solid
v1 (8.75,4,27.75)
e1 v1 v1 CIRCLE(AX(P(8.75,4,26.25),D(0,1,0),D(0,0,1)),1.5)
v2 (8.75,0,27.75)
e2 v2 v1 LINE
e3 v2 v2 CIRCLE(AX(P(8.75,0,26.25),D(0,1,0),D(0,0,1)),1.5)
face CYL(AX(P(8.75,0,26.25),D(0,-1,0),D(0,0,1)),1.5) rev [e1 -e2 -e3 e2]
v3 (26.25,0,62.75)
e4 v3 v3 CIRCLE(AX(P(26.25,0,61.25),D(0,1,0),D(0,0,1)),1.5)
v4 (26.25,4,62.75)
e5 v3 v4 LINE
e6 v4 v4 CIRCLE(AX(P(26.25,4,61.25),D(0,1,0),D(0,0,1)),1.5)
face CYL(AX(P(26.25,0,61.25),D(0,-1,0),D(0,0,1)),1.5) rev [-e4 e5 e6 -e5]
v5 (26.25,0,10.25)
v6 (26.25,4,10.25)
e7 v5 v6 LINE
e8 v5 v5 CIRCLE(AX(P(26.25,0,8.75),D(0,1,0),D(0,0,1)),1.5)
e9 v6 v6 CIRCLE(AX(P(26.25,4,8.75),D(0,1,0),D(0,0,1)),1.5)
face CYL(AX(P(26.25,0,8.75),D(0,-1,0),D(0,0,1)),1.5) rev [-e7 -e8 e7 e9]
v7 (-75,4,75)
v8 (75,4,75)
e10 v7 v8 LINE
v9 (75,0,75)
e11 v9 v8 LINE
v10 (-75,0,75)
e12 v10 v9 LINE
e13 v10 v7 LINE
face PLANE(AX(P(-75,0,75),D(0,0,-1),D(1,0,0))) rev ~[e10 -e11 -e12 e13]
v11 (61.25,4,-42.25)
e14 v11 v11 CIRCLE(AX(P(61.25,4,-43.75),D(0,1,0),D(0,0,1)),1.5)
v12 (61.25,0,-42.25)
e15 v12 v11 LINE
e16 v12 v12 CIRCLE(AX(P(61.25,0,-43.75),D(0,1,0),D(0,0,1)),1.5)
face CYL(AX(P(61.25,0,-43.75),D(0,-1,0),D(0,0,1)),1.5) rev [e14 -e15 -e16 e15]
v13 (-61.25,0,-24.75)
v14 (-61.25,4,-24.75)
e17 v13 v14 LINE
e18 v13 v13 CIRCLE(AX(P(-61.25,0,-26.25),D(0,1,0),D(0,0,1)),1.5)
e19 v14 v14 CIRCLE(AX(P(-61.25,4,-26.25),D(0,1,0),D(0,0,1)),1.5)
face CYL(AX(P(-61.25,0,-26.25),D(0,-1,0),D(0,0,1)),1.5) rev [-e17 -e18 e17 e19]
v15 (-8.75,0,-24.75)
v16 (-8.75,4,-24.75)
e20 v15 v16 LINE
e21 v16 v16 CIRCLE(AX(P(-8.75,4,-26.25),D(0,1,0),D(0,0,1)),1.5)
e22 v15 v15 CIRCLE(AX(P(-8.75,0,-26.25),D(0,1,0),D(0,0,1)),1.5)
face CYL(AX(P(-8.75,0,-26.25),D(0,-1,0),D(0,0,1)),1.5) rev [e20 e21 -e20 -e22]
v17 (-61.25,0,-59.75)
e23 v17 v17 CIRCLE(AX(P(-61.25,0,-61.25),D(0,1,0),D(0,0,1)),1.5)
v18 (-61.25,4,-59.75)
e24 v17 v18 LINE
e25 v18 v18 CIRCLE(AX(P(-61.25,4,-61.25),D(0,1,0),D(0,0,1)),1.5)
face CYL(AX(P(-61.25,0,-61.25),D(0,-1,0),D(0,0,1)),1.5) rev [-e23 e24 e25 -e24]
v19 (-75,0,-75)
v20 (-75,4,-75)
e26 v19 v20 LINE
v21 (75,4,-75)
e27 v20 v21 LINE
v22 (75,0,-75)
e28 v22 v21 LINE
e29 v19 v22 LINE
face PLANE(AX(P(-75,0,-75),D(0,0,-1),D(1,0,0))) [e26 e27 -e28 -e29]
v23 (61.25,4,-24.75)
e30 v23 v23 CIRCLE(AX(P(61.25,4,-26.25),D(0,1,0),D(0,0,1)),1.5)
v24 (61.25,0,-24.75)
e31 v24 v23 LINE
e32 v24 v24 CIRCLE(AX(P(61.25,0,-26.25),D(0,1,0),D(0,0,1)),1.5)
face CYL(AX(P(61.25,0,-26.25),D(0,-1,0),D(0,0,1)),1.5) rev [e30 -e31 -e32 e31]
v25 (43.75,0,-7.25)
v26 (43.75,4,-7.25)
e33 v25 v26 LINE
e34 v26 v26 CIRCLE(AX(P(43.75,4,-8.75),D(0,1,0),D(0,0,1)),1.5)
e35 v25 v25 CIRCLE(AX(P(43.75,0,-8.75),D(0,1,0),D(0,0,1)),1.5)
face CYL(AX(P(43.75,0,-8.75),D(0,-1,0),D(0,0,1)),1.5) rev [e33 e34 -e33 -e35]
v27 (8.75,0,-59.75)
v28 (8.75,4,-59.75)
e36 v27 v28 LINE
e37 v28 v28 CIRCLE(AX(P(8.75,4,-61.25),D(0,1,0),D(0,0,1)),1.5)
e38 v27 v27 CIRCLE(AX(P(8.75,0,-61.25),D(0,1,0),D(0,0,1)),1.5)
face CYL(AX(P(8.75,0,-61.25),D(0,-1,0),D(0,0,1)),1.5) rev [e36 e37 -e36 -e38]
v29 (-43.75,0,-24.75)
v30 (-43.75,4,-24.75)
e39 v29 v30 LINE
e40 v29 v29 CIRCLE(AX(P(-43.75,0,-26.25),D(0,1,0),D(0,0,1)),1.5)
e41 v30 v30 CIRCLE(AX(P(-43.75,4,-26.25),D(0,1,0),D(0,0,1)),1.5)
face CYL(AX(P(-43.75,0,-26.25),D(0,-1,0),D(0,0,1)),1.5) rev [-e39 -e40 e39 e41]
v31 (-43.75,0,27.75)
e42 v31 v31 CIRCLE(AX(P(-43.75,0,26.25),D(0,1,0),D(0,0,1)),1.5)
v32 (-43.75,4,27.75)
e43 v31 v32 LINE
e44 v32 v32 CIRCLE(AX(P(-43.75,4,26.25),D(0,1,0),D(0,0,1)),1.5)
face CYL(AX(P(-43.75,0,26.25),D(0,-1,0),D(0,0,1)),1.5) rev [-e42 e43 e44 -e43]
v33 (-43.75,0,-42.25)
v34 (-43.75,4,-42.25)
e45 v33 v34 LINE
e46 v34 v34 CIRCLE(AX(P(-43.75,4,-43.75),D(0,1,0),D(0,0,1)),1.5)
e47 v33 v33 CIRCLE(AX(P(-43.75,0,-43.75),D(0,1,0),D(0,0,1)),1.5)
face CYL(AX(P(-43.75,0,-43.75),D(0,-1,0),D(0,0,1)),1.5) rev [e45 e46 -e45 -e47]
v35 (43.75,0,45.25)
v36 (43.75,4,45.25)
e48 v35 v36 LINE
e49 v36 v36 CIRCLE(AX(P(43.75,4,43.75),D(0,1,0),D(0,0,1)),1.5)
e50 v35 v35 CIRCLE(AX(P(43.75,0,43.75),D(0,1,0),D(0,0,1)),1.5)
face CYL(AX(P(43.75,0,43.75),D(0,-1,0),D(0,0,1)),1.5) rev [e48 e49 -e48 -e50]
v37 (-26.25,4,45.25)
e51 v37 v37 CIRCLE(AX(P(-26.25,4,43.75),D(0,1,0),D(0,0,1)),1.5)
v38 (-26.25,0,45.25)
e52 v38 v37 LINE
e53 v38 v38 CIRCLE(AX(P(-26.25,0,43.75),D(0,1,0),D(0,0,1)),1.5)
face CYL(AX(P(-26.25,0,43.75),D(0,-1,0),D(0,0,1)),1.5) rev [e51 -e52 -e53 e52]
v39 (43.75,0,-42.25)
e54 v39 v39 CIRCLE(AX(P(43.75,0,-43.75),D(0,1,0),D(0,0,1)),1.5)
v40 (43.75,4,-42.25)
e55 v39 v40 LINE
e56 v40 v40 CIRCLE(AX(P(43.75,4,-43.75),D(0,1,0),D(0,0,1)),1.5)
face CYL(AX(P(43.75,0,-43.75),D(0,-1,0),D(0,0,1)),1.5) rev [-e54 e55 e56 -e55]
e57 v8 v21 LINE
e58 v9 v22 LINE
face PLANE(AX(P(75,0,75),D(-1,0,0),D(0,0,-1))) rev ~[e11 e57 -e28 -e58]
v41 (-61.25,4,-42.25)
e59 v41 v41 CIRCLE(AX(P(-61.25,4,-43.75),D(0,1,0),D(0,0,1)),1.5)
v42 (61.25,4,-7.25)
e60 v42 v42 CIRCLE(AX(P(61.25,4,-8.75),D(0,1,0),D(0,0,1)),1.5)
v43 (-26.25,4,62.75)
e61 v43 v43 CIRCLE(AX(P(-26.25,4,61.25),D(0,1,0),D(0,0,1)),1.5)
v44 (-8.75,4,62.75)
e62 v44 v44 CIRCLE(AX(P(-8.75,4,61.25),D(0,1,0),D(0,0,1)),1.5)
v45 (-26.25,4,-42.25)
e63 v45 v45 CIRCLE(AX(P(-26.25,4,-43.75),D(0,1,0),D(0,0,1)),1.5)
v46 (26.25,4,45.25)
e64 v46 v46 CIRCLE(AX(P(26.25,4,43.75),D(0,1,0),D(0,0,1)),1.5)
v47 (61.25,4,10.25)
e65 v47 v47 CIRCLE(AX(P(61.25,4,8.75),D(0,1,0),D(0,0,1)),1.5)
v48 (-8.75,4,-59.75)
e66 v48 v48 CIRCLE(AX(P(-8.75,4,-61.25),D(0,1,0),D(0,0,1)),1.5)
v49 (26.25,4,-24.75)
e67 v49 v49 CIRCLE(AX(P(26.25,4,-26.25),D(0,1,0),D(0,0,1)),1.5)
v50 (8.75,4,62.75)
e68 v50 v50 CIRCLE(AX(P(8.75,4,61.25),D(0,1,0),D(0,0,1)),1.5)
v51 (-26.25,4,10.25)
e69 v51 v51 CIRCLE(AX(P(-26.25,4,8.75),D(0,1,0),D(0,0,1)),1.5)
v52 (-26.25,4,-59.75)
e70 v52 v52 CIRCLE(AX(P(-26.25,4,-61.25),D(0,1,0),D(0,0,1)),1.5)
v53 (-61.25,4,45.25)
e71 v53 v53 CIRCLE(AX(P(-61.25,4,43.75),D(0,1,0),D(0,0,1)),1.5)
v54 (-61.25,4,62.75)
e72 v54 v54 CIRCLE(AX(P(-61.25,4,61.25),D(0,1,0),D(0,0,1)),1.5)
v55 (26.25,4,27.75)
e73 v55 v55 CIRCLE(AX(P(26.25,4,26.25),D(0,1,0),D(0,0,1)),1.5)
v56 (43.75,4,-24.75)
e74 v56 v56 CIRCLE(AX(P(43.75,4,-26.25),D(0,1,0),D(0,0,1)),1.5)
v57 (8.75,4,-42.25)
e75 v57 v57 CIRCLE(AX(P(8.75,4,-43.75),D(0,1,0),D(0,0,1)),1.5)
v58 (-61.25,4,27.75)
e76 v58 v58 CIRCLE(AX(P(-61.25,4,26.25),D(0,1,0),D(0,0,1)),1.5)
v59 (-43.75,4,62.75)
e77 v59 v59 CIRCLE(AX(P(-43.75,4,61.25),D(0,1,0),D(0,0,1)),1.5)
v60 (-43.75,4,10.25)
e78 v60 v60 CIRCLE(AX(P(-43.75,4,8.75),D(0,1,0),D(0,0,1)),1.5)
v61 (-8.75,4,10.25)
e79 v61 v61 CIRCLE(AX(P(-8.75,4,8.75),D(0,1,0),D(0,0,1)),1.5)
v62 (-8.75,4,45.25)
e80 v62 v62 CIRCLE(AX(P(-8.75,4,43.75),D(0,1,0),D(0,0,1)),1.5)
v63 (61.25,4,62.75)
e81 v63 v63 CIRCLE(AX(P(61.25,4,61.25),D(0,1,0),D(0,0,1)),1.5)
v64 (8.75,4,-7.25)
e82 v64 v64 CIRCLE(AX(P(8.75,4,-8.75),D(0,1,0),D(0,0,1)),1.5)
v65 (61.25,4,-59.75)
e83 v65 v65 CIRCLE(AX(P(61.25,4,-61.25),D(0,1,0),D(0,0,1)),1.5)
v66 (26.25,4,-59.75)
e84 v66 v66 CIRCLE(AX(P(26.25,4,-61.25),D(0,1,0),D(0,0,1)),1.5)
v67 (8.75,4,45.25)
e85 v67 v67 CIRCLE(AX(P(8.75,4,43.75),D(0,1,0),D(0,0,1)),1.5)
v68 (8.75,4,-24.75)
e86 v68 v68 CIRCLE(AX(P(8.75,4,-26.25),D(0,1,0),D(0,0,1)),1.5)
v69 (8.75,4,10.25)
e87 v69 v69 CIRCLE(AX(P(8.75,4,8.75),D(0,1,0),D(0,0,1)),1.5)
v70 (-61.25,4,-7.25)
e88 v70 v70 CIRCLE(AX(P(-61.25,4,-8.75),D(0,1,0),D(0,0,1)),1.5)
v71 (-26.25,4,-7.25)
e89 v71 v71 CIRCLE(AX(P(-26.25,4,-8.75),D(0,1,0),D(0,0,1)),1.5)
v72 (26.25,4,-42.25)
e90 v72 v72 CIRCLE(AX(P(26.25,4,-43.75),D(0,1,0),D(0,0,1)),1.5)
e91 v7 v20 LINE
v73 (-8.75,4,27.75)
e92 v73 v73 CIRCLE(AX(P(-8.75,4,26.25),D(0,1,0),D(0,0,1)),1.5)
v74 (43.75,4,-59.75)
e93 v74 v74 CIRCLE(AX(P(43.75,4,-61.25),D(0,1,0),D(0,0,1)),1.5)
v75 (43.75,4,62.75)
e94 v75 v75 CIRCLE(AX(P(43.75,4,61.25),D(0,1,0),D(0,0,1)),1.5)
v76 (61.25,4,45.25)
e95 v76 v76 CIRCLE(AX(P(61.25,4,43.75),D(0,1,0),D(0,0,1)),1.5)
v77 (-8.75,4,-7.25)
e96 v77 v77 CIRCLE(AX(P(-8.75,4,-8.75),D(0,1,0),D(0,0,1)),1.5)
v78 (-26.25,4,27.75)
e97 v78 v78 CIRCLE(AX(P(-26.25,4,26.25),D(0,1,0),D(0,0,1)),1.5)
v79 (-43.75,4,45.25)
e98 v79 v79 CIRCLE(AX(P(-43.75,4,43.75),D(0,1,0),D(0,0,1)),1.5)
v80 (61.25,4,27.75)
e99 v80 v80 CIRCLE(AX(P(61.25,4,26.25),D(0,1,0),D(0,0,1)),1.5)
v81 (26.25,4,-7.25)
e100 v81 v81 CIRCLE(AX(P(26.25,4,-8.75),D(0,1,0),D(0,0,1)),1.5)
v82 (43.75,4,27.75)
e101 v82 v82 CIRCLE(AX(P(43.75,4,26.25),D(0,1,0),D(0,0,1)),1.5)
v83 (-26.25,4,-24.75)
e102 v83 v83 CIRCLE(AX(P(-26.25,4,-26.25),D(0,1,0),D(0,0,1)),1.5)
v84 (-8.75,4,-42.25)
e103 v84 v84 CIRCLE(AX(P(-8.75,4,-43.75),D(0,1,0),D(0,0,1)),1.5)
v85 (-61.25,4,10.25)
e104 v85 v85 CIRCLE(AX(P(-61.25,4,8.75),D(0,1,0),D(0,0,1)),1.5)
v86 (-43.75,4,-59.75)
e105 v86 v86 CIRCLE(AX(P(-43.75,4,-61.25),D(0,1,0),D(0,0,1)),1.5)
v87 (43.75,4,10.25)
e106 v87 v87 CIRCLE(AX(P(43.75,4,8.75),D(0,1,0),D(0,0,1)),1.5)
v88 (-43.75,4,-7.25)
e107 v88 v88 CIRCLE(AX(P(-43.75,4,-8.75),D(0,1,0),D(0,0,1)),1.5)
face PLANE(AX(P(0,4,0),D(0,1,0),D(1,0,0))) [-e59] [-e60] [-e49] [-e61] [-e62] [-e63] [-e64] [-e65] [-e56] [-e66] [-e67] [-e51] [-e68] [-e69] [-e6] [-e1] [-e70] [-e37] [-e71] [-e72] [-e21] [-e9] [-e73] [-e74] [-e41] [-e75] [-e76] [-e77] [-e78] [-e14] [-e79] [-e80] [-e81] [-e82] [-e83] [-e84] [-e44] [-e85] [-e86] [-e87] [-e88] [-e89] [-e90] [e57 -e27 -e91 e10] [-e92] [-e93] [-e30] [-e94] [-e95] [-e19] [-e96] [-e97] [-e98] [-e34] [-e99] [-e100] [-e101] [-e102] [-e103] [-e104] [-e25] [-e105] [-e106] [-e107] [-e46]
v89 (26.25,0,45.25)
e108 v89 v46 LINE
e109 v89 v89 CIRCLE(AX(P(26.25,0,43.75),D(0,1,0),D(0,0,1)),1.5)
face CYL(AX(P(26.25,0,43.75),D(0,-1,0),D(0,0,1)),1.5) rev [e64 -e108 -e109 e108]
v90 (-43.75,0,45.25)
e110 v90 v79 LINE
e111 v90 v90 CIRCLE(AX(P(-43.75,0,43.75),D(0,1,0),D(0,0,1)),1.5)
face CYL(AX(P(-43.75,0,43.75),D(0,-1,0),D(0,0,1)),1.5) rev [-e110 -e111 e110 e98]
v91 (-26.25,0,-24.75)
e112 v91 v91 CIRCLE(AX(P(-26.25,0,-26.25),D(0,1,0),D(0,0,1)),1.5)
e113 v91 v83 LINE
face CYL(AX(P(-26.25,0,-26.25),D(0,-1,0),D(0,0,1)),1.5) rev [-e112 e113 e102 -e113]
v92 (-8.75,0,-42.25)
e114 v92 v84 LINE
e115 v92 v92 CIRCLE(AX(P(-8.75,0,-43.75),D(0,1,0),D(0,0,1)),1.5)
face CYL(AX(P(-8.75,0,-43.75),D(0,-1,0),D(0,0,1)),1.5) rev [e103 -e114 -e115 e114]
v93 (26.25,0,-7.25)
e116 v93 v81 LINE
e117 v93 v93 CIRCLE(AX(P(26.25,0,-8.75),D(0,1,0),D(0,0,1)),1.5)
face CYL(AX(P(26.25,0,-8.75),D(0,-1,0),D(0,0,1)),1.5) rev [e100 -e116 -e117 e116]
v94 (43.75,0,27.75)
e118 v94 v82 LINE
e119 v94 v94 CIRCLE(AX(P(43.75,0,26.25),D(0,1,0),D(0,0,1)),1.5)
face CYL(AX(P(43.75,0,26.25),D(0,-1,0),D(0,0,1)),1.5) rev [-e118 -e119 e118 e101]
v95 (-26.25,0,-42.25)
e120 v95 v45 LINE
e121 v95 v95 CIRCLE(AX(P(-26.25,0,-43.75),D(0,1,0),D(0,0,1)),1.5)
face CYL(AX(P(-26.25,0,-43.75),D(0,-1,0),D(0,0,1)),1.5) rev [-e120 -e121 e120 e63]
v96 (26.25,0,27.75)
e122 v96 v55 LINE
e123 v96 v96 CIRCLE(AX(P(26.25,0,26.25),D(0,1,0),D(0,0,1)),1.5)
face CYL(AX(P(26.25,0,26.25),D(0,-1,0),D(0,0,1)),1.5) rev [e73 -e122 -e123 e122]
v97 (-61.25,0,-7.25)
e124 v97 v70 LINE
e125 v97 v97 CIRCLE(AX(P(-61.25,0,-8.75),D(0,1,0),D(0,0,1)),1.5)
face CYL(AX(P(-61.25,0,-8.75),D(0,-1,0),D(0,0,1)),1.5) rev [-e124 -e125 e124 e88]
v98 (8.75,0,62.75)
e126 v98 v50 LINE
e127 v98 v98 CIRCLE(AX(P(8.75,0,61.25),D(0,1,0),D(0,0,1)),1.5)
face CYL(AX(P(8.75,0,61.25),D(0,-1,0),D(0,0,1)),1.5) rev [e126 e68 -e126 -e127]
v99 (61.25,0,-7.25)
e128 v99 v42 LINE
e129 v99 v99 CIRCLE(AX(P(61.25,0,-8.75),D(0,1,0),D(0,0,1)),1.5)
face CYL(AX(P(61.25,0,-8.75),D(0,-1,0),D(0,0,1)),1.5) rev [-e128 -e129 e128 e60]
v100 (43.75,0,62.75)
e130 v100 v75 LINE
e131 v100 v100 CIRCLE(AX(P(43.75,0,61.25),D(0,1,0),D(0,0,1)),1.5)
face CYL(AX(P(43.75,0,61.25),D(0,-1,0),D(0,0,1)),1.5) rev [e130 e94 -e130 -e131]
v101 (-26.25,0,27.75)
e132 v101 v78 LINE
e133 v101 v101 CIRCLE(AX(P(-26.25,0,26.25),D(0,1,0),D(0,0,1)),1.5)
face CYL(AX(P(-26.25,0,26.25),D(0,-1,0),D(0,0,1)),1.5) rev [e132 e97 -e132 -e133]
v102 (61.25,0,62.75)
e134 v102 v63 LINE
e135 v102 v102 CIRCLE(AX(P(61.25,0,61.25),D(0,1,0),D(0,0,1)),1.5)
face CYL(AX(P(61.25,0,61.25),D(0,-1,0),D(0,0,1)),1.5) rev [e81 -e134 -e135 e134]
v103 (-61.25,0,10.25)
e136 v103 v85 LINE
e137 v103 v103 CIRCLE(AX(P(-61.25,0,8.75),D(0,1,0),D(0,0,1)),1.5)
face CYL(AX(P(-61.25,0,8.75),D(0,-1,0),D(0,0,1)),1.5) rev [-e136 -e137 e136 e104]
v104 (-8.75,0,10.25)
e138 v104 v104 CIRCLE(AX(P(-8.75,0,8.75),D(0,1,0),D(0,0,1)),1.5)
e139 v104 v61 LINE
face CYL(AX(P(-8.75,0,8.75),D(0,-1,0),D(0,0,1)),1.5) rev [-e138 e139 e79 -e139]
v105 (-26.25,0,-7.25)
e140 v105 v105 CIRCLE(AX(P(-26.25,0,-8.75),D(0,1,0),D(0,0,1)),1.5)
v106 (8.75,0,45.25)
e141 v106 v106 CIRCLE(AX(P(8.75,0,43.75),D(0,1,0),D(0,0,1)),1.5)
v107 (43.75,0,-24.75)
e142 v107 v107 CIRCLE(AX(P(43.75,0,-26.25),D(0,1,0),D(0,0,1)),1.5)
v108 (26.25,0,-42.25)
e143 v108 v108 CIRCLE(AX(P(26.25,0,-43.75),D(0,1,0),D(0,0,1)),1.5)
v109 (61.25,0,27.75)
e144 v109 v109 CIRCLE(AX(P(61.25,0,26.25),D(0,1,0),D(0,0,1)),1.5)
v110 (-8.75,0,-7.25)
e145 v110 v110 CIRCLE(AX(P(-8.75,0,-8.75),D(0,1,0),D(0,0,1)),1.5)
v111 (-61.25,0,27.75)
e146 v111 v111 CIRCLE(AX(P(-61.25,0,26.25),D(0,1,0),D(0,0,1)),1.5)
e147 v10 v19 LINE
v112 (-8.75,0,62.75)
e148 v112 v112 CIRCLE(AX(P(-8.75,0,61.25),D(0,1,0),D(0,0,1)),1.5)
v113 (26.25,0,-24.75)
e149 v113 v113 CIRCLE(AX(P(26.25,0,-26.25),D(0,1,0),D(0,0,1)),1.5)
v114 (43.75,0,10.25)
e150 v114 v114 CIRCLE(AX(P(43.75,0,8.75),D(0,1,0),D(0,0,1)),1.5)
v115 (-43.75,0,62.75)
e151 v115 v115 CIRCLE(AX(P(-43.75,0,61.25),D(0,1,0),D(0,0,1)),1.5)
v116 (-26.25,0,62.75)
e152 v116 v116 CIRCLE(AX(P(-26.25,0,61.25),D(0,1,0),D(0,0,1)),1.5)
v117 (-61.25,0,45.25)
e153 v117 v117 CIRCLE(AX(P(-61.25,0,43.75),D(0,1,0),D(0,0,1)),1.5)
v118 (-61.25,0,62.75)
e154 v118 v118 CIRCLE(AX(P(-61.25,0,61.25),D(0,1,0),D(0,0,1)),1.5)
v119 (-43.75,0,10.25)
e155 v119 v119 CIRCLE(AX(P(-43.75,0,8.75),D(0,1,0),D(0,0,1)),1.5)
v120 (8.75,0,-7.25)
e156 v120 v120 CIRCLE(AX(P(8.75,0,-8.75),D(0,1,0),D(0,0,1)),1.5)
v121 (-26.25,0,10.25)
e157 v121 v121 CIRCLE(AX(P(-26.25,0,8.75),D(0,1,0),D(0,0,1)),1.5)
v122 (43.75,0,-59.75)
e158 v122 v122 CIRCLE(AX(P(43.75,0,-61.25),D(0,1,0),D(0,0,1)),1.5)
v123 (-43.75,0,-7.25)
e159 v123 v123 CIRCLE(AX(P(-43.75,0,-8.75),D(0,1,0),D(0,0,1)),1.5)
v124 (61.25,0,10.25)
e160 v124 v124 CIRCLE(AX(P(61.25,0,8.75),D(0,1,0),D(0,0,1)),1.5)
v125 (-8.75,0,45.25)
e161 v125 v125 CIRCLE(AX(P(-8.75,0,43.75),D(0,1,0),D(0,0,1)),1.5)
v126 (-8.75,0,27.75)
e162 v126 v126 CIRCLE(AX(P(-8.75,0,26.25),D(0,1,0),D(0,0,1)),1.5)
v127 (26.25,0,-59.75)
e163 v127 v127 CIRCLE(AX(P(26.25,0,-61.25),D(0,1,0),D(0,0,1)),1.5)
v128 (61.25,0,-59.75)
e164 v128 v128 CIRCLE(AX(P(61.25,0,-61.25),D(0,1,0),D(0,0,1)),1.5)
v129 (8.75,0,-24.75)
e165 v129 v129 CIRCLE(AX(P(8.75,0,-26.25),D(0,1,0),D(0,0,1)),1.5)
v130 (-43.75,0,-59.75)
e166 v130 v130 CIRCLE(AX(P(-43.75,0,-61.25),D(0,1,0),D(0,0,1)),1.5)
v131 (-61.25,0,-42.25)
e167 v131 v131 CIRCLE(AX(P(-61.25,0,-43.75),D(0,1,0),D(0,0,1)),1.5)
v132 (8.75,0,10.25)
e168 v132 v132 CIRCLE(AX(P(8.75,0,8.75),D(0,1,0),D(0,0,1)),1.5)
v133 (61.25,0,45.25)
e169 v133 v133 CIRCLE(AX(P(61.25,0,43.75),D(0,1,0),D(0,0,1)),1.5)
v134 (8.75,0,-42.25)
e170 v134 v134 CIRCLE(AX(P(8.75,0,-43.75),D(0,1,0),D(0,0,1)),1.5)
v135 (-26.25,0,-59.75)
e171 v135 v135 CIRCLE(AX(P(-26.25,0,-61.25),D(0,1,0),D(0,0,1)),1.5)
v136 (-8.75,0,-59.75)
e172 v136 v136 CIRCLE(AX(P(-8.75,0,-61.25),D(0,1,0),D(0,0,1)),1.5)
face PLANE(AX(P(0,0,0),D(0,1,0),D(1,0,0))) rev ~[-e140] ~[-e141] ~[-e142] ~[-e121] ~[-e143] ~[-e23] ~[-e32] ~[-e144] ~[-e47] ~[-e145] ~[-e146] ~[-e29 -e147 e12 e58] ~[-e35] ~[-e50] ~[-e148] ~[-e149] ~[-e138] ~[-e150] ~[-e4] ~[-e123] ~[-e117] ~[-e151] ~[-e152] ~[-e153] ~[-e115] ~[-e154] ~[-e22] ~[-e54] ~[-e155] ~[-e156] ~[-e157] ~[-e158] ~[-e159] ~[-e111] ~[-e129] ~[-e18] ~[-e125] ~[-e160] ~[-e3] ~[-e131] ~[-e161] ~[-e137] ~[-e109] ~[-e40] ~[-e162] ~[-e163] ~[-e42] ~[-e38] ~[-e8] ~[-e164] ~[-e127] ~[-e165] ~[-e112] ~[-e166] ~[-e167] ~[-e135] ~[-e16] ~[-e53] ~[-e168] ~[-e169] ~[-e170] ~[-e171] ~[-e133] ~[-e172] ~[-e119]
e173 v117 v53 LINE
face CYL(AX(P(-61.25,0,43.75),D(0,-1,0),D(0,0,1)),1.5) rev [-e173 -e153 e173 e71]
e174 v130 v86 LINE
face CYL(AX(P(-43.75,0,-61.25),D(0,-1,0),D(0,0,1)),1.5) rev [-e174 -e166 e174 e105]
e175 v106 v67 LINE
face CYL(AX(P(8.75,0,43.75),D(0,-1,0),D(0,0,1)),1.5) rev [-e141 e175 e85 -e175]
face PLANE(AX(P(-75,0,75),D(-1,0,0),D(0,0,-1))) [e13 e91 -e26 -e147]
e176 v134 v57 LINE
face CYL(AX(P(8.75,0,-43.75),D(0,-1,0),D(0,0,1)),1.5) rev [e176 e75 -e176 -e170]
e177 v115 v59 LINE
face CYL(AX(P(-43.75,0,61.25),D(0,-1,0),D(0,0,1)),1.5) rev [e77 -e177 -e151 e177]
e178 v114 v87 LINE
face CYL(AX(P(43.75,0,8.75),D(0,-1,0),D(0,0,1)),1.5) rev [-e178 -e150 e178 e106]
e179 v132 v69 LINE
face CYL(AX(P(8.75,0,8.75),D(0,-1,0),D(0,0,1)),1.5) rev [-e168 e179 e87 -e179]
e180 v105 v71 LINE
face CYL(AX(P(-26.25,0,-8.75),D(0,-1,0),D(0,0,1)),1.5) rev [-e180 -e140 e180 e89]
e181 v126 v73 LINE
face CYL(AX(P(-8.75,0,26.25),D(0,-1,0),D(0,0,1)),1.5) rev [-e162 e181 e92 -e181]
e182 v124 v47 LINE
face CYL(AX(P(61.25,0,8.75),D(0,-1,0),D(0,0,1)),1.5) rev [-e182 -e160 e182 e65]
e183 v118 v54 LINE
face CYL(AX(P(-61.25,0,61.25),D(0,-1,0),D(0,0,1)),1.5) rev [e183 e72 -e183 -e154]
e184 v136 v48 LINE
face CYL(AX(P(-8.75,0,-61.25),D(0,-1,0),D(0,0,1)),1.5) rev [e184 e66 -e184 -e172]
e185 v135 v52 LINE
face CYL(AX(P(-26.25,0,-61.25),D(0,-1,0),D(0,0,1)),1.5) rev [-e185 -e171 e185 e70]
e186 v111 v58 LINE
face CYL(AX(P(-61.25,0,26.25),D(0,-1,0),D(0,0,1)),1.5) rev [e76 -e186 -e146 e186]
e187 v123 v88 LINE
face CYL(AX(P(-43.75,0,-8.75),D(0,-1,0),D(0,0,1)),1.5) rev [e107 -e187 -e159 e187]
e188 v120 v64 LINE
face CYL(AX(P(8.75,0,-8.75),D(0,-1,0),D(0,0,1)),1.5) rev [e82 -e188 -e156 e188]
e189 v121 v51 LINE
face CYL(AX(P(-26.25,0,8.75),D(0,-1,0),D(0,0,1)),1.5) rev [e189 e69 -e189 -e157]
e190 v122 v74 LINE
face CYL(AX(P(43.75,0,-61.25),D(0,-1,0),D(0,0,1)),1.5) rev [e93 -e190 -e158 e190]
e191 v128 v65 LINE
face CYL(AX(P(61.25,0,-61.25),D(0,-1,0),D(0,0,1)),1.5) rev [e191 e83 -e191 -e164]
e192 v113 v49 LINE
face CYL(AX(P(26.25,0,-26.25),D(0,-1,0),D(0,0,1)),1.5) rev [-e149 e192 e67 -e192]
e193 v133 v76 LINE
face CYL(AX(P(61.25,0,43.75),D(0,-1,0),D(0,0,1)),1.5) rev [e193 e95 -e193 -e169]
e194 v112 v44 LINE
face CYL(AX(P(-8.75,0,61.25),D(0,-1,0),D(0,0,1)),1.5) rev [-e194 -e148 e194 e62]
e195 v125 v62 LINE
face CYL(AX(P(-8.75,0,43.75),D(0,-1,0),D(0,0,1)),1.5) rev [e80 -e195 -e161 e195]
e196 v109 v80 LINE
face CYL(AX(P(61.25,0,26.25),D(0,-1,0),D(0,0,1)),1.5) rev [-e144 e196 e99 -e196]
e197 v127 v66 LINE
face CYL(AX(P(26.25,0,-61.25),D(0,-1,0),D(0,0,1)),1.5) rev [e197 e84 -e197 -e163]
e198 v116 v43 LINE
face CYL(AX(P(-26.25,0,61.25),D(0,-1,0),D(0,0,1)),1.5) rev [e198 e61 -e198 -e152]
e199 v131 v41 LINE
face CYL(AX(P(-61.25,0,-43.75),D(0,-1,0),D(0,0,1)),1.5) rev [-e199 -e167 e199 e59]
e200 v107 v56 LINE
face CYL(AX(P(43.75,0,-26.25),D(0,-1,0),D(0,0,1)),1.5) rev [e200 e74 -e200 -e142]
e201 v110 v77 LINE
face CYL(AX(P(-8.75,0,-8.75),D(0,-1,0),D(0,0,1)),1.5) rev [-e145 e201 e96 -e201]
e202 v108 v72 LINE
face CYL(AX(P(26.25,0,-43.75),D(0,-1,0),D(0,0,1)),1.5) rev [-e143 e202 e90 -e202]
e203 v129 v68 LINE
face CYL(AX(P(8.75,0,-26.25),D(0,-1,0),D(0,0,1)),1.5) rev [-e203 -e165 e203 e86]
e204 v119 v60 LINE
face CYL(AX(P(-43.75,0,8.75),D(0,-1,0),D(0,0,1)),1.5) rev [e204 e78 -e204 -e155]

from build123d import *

# Parameters (mm, degrees)
SKETCH1_W           = 150
SKETCH1_H           = 150
SKETCH1_R           = 1.5
BOSS_EXTRUDE1_DEPTH = 4


with BuildPart() as part:
    # Sketch1 → Boss-Extrude1 (new body)
    with BuildSketch(Plane(origin=(0, 0, 0), x_dir=(1, 0, 0), z_dir=(0, 1, 0))):
        Rectangle(SKETCH1_W, SKETCH1_H)
        with Locations(Location((-61.25, -61.25, 0), (0, 0, 270))):
            Circle(SKETCH1_R, mode=Mode.SUBTRACT)
        with Locations(Location((-43.75, -61.25, 0), (0, 0, 270))):
            Circle(SKETCH1_R, mode=Mode.SUBTRACT)
        with Locations(Location((-26.25, -61.25, 0), (0, 0, 270))):
            Circle(SKETCH1_R, mode=Mode.SUBTRACT)
        with Locations(Location((-8.75, -61.25, 0), (0, 0, 270))):
            Circle(SKETCH1_R, mode=Mode.SUBTRACT)
        with Locations(Location((8.75, -61.25, 0), (0, 0, 270))):
            Circle(SKETCH1_R, mode=Mode.SUBTRACT)
        with Locations(Location((26.25, -61.25, 0), (0, 0, 270))):
            Circle(SKETCH1_R, mode=Mode.SUBTRACT)
        with Locations(Location((43.75, -61.25, 0), (0, 0, 270))):
            Circle(SKETCH1_R, mode=Mode.SUBTRACT)
        with Locations(Location((61.25, -61.25, 0), (0, 0, 270))):
            Circle(SKETCH1_R, mode=Mode.SUBTRACT)
        with Locations(Location((-43.75, -43.75, 0), (0, 0, 270))):
            Circle(SKETCH1_R, mode=Mode.SUBTRACT)
        with Locations(Location((-26.25, -43.75, 0), (0, 0, 270))):
            Circle(SKETCH1_R, mode=Mode.SUBTRACT)
        with Locations(Location((-8.75, -43.75, 0), (0, 0, 270))):
            Circle(SKETCH1_R, mode=Mode.SUBTRACT)
        with Locations(Location((8.75, -43.75, 0), (0, 0, 270))):
            Circle(SKETCH1_R, mode=Mode.SUBTRACT)
        with Locations(Location((26.25, -43.75, 0), (0, 0, 270))):
            Circle(SKETCH1_R, mode=Mode.SUBTRACT)
        with Locations(Location((43.75, -43.75, 0), (0, 0, 270))):
            Circle(SKETCH1_R, mode=Mode.SUBTRACT)
        with Locations(Location((61.25, -43.75, 0), (0, 0, 270))):
            Circle(SKETCH1_R, mode=Mode.SUBTRACT)
        with Locations(Location((-43.75, -26.25, 0), (0, 0, 270))):
            Circle(SKETCH1_R, mode=Mode.SUBTRACT)
        with Locations(Location((-26.25, -26.25, 0), (0, 0, 270))):
            Circle(SKETCH1_R, mode=Mode.SUBTRACT)
        with Locations(Location((-8.75, -26.25, 0), (0, 0, 270))):
            Circle(SKETCH1_R, mode=Mode.SUBTRACT)
        with Locations(Location((8.75, -26.25, 0), (0, 0, 270))):
            Circle(SKETCH1_R, mode=Mode.SUBTRACT)
        with Locations(Location((26.25, -26.25, 0), (0, 0, 270))):
            Circle(SKETCH1_R, mode=Mode.SUBTRACT)
        with Locations(Location((43.75, -26.25, 0), (0, 0, 270))):
            Circle(SKETCH1_R, mode=Mode.SUBTRACT)
        with Locations(Location((61.25, -26.25, 0), (0, 0, 270))):
            Circle(SKETCH1_R, mode=Mode.SUBTRACT)
        with Locations(Location((-43.75, -8.75, 0), (0, 0, 270))):
            Circle(SKETCH1_R, mode=Mode.SUBTRACT)
        with Locations(Location((-26.25, -8.75, 0), (0, 0, 270))):
            Circle(SKETCH1_R, mode=Mode.SUBTRACT)
        with Locations(Location((-8.75, -8.75, 0), (0, 0, 270))):
            Circle(SKETCH1_R, mode=Mode.SUBTRACT)
        with Locations(Location((8.75, -8.75, 0), (0, 0, 270))):
            Circle(SKETCH1_R, mode=Mode.SUBTRACT)
        with Locations(Location((26.25, -8.75, 0), (0, 0, 270))):
            Circle(SKETCH1_R, mode=Mode.SUBTRACT)
        with Locations(Location((43.75, -8.75, 0), (0, 0, 270))):
            Circle(SKETCH1_R, mode=Mode.SUBTRACT)
        with Locations(Location((61.25, -8.75, 0), (0, 0, 270))):
            Circle(SKETCH1_R, mode=Mode.SUBTRACT)
        with Locations(Location((-43.75, 8.75, 0), (0, 0, 270))):
            Circle(SKETCH1_R, mode=Mode.SUBTRACT)
        with Locations(Location((-26.25, 8.75, 0), (0, 0, 270))):
            Circle(SKETCH1_R, mode=Mode.SUBTRACT)
        with Locations(Location((-8.75, 8.75, 0), (0, 0, 270))):
            Circle(SKETCH1_R, mode=Mode.SUBTRACT)
        with Locations(Location((8.75, 8.75, 0), (0, 0, 270))):
            Circle(SKETCH1_R, mode=Mode.SUBTRACT)
        with Locations(Location((26.25, 8.75, 0), (0, 0, 270))):
            Circle(SKETCH1_R, mode=Mode.SUBTRACT)
        with Locations(Location((43.75, 8.75, 0), (0, 0, 270))):
            Circle(SKETCH1_R, mode=Mode.SUBTRACT)
        with Locations(Location((61.25, 8.75, 0), (0, 0, 270))):
            Circle(SKETCH1_R, mode=Mode.SUBTRACT)
        with Locations(Location((-43.75, 26.25, 0), (0, 0, 270))):
            Circle(SKETCH1_R, mode=Mode.SUBTRACT)
        with Locations(Location((-26.25, 26.25, 0), (0, 0, 270))):
            Circle(SKETCH1_R, mode=Mode.SUBTRACT)
        with Locations(Location((-8.75, 26.25, 0), (0, 0, 270))):
            Circle(SKETCH1_R, mode=Mode.SUBTRACT)
        with Locations(Location((8.75, 26.25, 0), (0, 0, 270))):
            Circle(SKETCH1_R, mode=Mode.SUBTRACT)
        with Locations(Location((26.25, 26.25, 0), (0, 0, 270))):
            Circle(SKETCH1_R, mode=Mode.SUBTRACT)
        with Locations(Location((43.75, 26.25, 0), (0, 0, 270))):
            Circle(SKETCH1_R, mode=Mode.SUBTRACT)
        with Locations(Location((61.25, 26.25, 0), (0, 0, 270))):
            Circle(SKETCH1_R, mode=Mode.SUBTRACT)
        with Locations(Location((-43.75, 43.75, 0), (0, 0, 270))):
            Circle(SKETCH1_R, mode=Mode.SUBTRACT)
        with Locations(Location((-26.25, 43.75, 0), (0, 0, 270))):
            Circle(SKETCH1_R, mode=Mode.SUBTRACT)
        with Locations(Location((-8.75, 43.75, 0), (0, 0, 270))):
            Circle(SKETCH1_R, mode=Mode.SUBTRACT)
        with Locations(Location((8.75, 43.75, 0), (0, 0, 270))):
            Circle(SKETCH1_R, mode=Mode.SUBTRACT)
        with Locations(Location((26.25, 43.75, 0), (0, 0, 270))):
            Circle(SKETCH1_R, mode=Mode.SUBTRACT)
        with Locations(Location((43.75, 43.75, 0), (0, 0, 270))):
            Circle(SKETCH1_R, mode=Mode.SUBTRACT)
        with Locations(Location((61.25, 43.75, 0), (0, 0, 270))):
            Circle(SKETCH1_R, mode=Mode.SUBTRACT)
        with Locations(Location((-43.75, 61.25, 0), (0, 0, 270))):
            Circle(SKETCH1_R, mode=Mode.SUBTRACT)
        with Locations(Location((-26.25, 61.25, 0), (0, 0, 270))):
            Circle(SKETCH1_R, mode=Mode.SUBTRACT)
        with Locations(Location((-8.75, 61.25, 0), (0, 0, 270))):
            Circle(SKETCH1_R, mode=Mode.SUBTRACT)
        with Locations(Location((8.75, 61.25, 0), (0, 0, 270))):
            Circle(SKETCH1_R, mode=Mode.SUBTRACT)
        with Locations(Location((26.25, 61.25, 0), (0, 0, 270))):
            Circle(SKETCH1_R, mode=Mode.SUBTRACT)
        with Locations(Location((43.75, 61.25, 0), (0, 0, 270))):
            Circle(SKETCH1_R, mode=Mode.SUBTRACT)
        with Locations(Location((61.25, 61.25, 0), (0, 0, 270))):
            Circle(SKETCH1_R, mode=Mode.SUBTRACT)
        with Locations(Location((-61.25, -43.75, 0), (0, 0, 270))):
            Circle(SKETCH1_R, mode=Mode.SUBTRACT)
        with Locations(Location((-61.25, -26.25, 0), (0, 0, 270))):
            Circle(SKETCH1_R, mode=Mode.SUBTRACT)
        with Locations(Location((-61.25, -8.75, 0), (0, 0, 270))):
            Circle(SKETCH1_R, mode=Mode.SUBTRACT)
        with Locations(Location((-61.25, 8.75, 0), (0, 0, 270))):
            Circle(SKETCH1_R, mode=Mode.SUBTRACT)
        with Locations(Location((-61.25, 26.25, 0), (0, 0, 270))):
            Circle(SKETCH1_R, mode=Mode.SUBTRACT)
        with Locations(Location((-61.25, 43.75, 0), (0, 0, 270))):
            Circle(SKETCH1_R, mode=Mode.SUBTRACT)
        with Locations(Location((-61.25, 61.25, 0), (0, 0, 270))):
            Circle(SKETCH1_R, mode=Mode.SUBTRACT)
    extrude(amount=BOSS_EXTRUDE1_DEPTH)


solid = part.part
